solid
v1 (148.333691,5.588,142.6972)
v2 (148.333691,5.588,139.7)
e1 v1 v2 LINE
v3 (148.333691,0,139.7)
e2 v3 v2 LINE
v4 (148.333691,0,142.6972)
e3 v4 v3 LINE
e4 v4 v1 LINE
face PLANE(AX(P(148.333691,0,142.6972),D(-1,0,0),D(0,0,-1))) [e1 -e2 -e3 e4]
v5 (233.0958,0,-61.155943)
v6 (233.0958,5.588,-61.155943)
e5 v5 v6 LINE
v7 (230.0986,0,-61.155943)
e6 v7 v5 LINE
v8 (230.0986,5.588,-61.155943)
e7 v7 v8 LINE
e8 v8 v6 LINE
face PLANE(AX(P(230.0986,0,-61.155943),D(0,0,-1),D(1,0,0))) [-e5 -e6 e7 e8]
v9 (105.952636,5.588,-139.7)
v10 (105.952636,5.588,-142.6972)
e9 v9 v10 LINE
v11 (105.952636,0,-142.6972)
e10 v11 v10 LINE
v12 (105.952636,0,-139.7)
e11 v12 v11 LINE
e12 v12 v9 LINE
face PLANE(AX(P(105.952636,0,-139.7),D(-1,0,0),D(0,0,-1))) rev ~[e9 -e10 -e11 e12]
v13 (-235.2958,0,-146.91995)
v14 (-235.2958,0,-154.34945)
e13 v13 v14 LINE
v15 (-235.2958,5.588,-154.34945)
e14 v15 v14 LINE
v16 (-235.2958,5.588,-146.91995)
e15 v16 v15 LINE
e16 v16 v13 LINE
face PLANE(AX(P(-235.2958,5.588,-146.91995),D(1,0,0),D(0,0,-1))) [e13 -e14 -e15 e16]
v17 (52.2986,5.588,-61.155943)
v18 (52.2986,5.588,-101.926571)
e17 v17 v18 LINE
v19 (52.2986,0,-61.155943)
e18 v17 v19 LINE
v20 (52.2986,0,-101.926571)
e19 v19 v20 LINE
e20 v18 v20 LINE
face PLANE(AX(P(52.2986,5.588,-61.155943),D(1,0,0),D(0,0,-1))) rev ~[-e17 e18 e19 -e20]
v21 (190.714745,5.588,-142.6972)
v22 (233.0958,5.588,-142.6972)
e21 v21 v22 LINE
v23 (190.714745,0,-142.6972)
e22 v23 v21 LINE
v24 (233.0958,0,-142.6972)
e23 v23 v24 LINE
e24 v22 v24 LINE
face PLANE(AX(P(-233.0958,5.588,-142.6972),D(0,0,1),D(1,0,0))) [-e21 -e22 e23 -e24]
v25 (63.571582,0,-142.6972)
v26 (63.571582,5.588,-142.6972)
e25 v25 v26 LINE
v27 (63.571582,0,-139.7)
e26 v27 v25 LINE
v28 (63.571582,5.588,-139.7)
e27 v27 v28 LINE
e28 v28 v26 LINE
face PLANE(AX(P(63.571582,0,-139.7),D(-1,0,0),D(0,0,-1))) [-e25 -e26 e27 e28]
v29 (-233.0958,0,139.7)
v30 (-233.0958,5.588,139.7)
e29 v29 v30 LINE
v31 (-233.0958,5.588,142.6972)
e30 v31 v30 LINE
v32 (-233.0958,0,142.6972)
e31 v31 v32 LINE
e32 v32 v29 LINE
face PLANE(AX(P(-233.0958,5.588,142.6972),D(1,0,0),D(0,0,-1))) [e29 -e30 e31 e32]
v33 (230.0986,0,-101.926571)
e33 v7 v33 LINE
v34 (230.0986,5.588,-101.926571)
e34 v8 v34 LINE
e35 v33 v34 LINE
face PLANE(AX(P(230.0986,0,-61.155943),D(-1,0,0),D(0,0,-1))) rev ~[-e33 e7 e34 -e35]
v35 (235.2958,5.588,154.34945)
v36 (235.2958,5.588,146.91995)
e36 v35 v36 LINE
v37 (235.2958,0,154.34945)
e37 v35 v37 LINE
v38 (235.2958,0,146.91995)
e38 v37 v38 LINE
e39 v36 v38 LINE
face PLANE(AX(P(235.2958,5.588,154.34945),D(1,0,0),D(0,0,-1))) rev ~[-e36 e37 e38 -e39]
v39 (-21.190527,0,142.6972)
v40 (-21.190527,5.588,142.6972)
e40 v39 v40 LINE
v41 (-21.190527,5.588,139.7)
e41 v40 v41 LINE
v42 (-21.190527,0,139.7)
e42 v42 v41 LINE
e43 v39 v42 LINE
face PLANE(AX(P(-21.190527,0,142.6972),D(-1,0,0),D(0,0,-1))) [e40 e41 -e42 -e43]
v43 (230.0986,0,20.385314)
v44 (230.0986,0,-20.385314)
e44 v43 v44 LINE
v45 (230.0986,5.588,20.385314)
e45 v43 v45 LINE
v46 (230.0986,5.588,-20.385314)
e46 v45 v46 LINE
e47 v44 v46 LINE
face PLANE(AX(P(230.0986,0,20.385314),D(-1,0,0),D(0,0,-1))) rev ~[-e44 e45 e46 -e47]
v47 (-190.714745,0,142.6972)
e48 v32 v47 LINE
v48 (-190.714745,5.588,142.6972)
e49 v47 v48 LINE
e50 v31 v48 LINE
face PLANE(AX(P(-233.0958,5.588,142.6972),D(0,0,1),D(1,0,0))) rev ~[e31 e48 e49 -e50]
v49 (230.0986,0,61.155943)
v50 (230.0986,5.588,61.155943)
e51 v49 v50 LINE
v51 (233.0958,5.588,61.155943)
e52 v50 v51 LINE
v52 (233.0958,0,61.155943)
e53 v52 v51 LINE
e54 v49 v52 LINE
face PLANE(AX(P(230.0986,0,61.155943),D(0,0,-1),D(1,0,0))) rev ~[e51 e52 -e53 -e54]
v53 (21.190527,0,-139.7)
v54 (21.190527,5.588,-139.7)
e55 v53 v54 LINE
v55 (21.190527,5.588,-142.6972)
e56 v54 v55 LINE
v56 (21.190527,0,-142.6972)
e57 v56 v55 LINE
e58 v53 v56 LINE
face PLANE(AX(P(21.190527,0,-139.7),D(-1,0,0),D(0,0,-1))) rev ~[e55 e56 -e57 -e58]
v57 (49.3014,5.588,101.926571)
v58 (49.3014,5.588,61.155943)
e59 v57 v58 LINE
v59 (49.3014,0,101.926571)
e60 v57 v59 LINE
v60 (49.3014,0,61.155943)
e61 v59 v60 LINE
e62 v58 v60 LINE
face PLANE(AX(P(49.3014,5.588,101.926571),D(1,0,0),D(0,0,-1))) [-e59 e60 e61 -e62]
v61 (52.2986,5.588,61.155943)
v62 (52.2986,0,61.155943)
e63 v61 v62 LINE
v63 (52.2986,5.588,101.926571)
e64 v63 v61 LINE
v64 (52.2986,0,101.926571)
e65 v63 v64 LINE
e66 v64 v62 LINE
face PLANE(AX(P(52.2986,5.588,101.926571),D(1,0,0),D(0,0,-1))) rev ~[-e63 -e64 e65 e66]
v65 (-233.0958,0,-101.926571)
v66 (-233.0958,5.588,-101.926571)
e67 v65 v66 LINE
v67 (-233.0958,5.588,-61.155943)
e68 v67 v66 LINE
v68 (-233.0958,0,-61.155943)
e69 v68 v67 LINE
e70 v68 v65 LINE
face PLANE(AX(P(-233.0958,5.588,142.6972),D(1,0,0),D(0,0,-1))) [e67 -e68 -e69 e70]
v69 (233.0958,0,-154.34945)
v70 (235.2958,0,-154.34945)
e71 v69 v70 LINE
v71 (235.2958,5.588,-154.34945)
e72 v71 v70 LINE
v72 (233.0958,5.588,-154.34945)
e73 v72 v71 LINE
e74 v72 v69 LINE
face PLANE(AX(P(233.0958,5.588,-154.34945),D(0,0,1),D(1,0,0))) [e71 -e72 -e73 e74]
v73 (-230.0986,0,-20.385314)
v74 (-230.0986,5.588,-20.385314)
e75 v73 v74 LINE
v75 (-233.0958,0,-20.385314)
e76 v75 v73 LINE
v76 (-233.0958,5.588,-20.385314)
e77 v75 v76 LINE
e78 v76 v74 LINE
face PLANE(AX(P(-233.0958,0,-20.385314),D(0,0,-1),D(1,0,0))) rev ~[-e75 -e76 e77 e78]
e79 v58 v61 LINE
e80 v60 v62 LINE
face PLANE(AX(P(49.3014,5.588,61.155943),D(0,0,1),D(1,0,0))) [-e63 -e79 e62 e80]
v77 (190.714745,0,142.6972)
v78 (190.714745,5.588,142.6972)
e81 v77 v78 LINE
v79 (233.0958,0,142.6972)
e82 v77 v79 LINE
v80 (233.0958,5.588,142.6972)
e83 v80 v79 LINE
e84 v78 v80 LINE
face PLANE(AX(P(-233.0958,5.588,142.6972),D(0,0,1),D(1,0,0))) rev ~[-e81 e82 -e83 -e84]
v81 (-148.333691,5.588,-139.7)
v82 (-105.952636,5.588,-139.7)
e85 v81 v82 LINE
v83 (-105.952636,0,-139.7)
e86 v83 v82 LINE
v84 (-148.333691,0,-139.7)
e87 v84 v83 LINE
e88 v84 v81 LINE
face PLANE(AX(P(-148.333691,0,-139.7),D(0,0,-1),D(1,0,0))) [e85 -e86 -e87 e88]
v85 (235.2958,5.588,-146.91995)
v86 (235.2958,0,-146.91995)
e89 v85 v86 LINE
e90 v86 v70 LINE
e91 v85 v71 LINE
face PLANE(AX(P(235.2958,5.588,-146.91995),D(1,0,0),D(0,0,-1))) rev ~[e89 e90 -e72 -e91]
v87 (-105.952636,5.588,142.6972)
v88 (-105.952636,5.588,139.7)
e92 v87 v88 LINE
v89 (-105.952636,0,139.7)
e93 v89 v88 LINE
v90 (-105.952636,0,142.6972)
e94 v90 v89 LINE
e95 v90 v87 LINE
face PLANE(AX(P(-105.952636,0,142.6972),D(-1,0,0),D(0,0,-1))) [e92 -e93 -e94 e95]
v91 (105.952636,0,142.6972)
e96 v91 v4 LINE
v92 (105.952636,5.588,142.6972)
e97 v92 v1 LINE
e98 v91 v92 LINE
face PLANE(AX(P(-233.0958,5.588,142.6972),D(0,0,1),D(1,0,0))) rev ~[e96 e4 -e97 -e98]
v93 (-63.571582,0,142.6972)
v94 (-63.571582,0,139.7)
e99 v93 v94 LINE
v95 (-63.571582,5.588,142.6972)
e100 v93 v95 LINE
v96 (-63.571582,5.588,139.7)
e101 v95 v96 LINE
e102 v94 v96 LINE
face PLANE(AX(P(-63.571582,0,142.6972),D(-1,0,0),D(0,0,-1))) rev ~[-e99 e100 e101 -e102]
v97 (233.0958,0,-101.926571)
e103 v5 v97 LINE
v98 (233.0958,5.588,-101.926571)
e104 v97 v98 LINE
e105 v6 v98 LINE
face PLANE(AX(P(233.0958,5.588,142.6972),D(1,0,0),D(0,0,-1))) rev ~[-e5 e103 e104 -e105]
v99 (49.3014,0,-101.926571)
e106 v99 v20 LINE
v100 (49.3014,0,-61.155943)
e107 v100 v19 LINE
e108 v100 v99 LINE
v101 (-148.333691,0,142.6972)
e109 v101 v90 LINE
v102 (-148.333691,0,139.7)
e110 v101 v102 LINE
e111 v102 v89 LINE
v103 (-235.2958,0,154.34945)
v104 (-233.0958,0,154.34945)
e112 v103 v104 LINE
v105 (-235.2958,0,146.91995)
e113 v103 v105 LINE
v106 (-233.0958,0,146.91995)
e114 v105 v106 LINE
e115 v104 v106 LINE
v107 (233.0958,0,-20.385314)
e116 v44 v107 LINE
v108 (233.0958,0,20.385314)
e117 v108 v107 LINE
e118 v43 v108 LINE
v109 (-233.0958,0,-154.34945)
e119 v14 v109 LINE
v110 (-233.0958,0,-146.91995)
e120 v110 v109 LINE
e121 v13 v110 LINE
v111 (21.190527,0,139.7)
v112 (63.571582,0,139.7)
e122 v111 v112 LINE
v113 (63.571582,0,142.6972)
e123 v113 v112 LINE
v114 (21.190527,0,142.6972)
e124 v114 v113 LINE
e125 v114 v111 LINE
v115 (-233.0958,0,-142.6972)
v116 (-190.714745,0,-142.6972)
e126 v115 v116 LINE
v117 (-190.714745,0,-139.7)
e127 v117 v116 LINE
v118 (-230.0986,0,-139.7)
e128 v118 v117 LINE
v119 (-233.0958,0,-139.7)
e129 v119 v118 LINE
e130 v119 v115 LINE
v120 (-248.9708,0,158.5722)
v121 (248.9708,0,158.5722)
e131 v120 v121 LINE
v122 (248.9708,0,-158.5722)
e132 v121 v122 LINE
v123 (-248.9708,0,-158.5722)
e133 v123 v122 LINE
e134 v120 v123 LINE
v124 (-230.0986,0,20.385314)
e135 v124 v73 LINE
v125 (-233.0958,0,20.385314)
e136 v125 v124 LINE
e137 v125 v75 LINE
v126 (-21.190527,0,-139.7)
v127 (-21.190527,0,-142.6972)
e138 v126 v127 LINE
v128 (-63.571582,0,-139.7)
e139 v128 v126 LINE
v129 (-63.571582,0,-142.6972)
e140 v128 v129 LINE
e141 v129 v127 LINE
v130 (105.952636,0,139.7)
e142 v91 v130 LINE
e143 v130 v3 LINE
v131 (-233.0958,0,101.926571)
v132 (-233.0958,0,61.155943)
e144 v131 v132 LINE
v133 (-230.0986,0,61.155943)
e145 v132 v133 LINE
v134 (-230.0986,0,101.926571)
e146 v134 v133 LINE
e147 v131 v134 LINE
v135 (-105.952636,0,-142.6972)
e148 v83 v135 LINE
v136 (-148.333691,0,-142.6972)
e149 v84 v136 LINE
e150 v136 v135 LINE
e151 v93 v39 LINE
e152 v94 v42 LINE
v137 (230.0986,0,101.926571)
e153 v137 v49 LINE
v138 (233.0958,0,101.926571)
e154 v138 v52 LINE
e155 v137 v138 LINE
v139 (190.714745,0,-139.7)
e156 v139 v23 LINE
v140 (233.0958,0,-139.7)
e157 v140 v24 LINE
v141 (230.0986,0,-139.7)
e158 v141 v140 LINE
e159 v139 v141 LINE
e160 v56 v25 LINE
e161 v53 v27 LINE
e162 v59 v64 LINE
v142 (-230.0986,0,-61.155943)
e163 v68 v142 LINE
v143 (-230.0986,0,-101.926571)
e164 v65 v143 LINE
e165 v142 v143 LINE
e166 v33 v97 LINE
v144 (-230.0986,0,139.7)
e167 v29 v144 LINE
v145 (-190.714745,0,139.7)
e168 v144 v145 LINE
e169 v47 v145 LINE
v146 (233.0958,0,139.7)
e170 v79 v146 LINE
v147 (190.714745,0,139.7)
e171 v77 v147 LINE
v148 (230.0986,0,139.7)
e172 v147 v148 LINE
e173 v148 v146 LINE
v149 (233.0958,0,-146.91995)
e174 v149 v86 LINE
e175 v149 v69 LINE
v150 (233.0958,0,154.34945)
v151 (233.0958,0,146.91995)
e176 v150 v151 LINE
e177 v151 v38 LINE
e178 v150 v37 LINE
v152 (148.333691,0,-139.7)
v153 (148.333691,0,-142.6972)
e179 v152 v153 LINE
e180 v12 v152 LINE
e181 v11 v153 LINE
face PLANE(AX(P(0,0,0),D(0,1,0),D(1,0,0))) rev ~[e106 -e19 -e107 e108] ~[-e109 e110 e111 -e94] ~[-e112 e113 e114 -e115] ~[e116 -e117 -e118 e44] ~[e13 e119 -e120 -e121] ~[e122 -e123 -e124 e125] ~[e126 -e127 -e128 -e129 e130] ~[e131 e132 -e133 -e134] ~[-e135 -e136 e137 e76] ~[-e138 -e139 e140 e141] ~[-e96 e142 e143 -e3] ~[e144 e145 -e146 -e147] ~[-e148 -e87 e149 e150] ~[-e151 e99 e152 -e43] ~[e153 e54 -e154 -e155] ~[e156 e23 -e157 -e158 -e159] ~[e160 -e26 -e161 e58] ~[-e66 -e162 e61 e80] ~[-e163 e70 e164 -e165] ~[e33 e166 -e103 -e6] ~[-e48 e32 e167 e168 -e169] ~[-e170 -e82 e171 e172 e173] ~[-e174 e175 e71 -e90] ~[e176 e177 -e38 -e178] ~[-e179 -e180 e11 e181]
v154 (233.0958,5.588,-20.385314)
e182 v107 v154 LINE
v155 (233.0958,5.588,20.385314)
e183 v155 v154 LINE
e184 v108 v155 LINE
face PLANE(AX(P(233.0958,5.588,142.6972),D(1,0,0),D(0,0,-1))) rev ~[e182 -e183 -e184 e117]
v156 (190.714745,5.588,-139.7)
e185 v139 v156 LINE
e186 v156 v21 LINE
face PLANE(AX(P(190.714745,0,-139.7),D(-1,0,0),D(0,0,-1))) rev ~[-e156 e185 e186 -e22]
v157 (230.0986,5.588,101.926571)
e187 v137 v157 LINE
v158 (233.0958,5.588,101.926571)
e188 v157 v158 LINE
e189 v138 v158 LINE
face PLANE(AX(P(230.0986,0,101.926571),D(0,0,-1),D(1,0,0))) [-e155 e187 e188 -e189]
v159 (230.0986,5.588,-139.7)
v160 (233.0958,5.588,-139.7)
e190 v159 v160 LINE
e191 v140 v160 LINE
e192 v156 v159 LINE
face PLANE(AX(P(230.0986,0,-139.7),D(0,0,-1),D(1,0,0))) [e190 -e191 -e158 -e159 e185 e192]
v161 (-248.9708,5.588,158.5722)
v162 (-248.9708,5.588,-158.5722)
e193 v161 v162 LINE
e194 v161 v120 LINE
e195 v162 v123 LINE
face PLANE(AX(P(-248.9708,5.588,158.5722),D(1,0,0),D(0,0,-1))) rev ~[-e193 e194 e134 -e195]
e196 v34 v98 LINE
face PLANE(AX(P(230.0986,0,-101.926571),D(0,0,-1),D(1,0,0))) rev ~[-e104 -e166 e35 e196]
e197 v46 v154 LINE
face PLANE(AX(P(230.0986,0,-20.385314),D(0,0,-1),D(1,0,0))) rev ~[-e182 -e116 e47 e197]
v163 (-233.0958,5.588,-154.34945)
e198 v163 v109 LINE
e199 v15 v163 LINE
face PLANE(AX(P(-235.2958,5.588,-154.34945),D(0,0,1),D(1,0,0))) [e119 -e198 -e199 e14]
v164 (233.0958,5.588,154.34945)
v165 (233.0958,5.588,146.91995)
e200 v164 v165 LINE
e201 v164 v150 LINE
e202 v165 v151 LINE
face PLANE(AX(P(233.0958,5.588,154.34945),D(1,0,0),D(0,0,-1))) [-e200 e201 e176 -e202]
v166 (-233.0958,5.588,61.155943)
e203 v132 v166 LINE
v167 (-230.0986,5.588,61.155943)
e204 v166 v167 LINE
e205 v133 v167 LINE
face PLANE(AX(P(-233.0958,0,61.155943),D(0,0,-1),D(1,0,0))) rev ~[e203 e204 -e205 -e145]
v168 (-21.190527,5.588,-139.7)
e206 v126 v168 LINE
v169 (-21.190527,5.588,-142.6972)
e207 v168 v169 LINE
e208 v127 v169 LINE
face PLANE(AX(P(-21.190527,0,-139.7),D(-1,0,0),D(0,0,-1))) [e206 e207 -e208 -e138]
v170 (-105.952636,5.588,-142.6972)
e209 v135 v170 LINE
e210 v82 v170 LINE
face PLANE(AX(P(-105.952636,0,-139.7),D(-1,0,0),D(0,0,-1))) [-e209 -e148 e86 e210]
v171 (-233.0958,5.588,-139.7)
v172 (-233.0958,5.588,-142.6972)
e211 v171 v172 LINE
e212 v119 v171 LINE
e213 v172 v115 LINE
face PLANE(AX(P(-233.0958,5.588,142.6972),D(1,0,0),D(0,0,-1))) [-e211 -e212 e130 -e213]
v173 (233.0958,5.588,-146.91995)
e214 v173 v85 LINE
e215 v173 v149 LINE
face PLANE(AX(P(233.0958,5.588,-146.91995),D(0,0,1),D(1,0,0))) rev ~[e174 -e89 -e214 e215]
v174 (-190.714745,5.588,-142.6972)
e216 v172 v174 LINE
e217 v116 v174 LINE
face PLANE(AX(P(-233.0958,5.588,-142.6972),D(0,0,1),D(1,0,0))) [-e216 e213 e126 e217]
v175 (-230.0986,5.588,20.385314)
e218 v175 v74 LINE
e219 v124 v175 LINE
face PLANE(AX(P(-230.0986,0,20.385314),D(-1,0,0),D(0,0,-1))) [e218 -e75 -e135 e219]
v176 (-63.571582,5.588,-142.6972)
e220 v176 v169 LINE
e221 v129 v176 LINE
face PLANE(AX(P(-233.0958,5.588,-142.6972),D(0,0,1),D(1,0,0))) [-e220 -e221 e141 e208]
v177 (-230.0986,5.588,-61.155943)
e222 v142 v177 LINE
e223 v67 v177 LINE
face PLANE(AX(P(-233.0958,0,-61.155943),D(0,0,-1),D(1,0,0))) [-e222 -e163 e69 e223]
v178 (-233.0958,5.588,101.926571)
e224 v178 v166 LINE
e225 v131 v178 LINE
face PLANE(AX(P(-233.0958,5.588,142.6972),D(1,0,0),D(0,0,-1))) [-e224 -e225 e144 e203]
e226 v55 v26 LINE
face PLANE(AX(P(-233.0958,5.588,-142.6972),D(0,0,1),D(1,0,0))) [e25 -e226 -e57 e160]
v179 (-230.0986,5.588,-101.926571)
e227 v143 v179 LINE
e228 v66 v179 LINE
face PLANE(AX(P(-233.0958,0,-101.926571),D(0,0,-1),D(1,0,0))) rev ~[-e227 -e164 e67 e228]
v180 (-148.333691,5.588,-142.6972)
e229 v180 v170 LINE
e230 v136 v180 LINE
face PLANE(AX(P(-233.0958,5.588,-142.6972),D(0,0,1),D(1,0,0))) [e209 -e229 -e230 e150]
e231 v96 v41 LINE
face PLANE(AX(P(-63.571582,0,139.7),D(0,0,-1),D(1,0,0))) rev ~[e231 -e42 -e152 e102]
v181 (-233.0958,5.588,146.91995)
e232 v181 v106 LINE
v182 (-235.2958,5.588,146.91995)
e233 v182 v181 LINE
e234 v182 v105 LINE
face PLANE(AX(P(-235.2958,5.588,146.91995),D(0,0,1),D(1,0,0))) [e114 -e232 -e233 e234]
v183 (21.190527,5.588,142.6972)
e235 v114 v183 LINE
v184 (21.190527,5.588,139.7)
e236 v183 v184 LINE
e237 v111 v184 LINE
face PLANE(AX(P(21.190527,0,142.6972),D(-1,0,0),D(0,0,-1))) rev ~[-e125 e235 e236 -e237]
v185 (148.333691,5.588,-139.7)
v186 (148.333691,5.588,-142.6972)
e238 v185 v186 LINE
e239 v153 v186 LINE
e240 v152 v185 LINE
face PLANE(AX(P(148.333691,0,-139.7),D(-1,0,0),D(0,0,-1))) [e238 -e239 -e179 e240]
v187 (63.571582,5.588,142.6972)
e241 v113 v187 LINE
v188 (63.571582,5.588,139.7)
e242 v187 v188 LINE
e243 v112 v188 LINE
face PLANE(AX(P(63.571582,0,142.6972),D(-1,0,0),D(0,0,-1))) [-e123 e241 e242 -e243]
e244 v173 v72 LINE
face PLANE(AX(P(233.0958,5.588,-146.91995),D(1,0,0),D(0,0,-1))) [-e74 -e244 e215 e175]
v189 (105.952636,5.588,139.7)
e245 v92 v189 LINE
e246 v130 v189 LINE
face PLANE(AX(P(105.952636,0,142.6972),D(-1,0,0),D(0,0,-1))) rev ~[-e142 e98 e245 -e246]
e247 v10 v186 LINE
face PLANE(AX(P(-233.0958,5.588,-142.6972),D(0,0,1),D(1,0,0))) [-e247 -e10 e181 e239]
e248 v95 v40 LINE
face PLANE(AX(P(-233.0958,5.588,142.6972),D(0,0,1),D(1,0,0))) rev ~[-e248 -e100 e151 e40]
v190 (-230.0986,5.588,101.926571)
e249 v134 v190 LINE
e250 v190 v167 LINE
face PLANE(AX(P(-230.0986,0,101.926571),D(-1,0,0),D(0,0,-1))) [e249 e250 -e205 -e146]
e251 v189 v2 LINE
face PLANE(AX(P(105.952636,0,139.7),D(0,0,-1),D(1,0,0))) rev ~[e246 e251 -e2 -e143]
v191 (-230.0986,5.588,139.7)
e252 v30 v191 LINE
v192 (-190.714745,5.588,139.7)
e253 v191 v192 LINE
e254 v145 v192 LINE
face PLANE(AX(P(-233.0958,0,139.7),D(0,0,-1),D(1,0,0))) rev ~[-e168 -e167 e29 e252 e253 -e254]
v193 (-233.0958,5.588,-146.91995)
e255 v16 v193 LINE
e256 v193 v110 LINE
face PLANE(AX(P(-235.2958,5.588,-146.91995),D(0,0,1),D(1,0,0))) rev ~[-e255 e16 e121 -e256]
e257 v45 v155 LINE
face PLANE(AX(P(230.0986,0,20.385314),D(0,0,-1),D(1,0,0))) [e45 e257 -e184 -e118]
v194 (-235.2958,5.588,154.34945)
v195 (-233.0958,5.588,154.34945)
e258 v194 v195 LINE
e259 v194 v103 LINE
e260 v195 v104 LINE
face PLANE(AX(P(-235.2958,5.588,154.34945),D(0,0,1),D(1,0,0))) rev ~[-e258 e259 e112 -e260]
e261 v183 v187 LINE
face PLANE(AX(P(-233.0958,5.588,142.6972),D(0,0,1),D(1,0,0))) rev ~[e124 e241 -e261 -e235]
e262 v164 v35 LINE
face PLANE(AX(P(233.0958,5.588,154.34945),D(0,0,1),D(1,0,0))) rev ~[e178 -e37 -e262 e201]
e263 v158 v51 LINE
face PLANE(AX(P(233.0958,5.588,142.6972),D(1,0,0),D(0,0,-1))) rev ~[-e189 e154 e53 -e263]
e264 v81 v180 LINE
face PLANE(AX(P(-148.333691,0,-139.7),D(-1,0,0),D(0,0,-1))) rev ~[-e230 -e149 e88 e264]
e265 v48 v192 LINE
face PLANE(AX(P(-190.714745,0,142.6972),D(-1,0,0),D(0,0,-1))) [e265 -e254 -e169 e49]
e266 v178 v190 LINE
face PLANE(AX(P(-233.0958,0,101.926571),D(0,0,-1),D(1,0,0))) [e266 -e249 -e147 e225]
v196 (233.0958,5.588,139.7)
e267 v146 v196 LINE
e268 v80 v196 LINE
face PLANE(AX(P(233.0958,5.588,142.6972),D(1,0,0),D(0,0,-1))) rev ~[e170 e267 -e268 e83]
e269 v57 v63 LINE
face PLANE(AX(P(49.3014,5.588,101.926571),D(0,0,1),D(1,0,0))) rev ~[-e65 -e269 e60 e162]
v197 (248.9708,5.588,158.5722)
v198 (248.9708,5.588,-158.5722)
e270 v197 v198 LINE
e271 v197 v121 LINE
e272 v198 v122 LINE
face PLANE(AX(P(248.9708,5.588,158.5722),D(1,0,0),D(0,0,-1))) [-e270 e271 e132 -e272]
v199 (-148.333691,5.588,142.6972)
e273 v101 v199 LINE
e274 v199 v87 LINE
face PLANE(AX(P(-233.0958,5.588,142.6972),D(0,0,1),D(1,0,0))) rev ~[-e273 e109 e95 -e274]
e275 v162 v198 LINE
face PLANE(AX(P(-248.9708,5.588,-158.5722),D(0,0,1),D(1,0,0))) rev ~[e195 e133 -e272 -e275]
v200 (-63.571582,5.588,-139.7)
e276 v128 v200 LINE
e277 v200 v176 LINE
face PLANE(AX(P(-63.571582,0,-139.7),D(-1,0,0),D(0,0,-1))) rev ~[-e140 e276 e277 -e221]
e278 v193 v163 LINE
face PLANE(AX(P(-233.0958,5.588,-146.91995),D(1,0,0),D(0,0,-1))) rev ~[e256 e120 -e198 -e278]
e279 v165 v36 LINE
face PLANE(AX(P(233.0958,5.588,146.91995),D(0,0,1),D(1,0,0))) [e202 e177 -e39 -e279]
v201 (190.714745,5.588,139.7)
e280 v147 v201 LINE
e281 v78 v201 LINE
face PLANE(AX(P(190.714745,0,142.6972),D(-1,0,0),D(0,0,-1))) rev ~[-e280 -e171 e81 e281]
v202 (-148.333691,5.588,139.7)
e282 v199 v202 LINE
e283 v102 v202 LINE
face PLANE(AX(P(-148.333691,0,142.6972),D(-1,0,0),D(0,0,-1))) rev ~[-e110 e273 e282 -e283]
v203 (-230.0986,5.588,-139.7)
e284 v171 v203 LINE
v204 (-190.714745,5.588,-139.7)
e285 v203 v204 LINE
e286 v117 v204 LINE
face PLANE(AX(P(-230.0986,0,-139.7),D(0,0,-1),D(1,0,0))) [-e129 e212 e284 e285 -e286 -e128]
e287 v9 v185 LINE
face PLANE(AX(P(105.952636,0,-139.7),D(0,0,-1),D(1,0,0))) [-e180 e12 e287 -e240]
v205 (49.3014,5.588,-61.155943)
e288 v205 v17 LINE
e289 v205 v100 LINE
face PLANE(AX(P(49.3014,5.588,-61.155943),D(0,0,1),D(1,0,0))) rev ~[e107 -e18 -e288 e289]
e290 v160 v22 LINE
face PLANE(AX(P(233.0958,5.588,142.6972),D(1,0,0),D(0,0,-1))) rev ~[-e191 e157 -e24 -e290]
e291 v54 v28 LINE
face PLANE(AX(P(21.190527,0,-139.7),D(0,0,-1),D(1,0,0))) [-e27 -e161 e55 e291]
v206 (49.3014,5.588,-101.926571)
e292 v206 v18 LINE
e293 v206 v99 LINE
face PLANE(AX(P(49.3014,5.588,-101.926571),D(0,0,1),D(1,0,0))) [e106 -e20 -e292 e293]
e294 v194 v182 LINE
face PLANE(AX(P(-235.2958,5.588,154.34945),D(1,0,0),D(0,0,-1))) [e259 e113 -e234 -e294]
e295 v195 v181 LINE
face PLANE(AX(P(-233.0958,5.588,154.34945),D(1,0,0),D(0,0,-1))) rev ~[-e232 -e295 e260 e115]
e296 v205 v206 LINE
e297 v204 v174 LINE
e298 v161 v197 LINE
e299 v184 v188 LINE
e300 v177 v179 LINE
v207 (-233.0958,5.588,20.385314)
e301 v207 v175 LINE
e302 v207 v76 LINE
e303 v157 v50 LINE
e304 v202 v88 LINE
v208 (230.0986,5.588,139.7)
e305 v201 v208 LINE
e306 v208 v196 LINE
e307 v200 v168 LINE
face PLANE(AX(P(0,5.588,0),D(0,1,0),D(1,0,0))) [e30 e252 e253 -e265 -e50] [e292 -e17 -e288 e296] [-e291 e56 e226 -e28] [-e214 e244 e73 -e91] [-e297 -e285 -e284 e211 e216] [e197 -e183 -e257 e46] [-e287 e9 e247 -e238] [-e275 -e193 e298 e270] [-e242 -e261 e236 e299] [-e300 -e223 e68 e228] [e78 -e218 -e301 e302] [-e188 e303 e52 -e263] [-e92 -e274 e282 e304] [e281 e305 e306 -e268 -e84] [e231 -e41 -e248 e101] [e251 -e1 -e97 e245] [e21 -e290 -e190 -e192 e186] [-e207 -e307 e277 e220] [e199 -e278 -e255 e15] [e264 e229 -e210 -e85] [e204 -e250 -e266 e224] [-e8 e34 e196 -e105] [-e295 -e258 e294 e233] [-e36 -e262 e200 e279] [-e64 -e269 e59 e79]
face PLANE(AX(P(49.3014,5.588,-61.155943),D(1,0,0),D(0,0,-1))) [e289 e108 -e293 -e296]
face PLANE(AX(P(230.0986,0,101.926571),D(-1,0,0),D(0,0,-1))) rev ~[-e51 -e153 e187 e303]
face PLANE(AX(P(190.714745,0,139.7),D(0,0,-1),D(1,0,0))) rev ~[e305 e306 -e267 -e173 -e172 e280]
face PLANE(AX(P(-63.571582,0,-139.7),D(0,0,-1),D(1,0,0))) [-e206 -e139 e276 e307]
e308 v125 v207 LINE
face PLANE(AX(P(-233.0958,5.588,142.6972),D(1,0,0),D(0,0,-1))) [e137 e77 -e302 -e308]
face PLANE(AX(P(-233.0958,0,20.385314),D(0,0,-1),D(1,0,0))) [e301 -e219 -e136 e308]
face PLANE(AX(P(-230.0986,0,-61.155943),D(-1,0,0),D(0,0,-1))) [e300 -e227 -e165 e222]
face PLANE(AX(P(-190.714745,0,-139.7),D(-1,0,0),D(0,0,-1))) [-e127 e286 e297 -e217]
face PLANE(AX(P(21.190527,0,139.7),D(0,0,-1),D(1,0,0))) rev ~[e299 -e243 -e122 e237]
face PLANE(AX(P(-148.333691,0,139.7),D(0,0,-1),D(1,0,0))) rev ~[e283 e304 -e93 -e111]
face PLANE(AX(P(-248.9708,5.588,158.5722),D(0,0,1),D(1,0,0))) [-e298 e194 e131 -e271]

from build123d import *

# Parameters (mm, degrees)
SKETCH2_W           = 460.1972
SKETCH2_H           = 279.4
SKETCH2_W_2         = 42.381054546
SKETCH2_H_2         = 2.9972
SKETCH2_W_3         = 2.9972
SKETCH2_H_3         = 37.773428571
SKETCH2_H_4         = 40.770628571
BOSS_EXTRUDE1_DEPTH = 5.588
SKETCH3_W           = 2.9972
SKETCH3_H           = 40.770628572
CUT_EXTRUDE1_DEPTH  = 274.363071042
SKETCH4_W           = 497.9416
SKETCH4_H           = 317.1444
SKETCH4_W_2         = 2.2
SKETCH4_H_2         = 7.4295
SKETCH4_W_3         = 466.1916
SKETCH4_H_3         = 285.3944
BOSS_EXTRUDE2_DEPTH = 5.588


with BuildPart() as part:
    # Sketch2 → Boss-Extrude1 (new body)
    with BuildSketch(Plane(origin=(0, 0, 0), x_dir=(1, 0, 0), z_dir=(0, 1, 0))):
        Rectangle(SKETCH2_W, SKETCH2_H)
        with Locations((-169.524218182, 141.1986)):
            Rectangle(SKETCH2_W_2, SKETCH2_H_2)
        with Locations((-231.5972, 120.813285715)):
            Rectangle(SKETCH2_W_3, SKETCH2_H_3)
        with Locations((-231.5972, 40.770628572)):
            Rectangle(SKETCH2_W_3, SKETCH2_H_4)
        with Locations((-231.5972, -40.770628572)):
            Rectangle(SKETCH2_W_3, SKETCH2_H_4)
        with Locations((-84.762109091, 141.1986)):
            Rectangle(SKETCH2_W_2, SKETCH2_H_2)
        with Locations((0, 141.1986)):
            Rectangle(SKETCH2_W_2, SKETCH2_H_2)
        with Locations((84.762109091, 141.1986)):
            Rectangle(SKETCH2_W_2, SKETCH2_H_2)
        with Locations((169.524218182, 141.1986)):
            Rectangle(SKETCH2_W_2, SKETCH2_H_2)
        with Locations((169.524218182, -141.1986)):
            Rectangle(SKETCH2_W_2, SKETCH2_H_2)
        with Locations((84.762109091, -141.1986)):
            Rectangle(SKETCH2_W_2, SKETCH2_H_2)
        with Locations((0, -141.1986)):
            Rectangle(SKETCH2_W_2, SKETCH2_H_2)
        with Locations((-84.762109091, -141.1986)):
            Rectangle(SKETCH2_W_2, SKETCH2_H_2)
        with Locations((-169.524218182, -141.1986)):
            Rectangle(SKETCH2_W_2, SKETCH2_H_2)
        with Locations((-231.5972, -120.813285715)):
            Rectangle(SKETCH2_W_3, SKETCH2_H_3)
        with Locations((231.5972, -120.813285715)):
            Rectangle(SKETCH2_W_3, SKETCH2_H_3)
        with Locations((231.5972, -40.770628572)):
            Rectangle(SKETCH2_W_3, SKETCH2_H_4)
        with Locations((231.5972, 40.770628572)):
            Rectangle(SKETCH2_W_3, SKETCH2_H_4)
        with Locations((231.5972, 120.813285715)):
            Rectangle(SKETCH2_W_3, SKETCH2_H_3)
    extrude(amount=BOSS_EXTRUDE1_DEPTH)

    # Sketch3 → Cut-Extrude1 (cut, through all)
    with BuildSketch(Plane(origin=(0, 5.588, 0), x_dir=(1, 0, 0), z_dir=(0, 1, 0))):
        with Locations((50.8, -81.541257143)):
            Rectangle(SKETCH3_W, SKETCH3_H)
        with Locations((50.8, 81.541257143)):
            Rectangle(SKETCH3_W, SKETCH3_H)
    extrude(amount=-CUT_EXTRUDE1_DEPTH, mode=Mode.SUBTRACT)

    # Sketch4 → Boss-Extrude2 (add)
    with BuildSketch(Plane(origin=(0, 5.588, 0), x_dir=(1, 0, 0), z_dir=(0, 1, 0))):
        Rectangle(SKETCH4_W, SKETCH4_H)
        with Locations((-234.1958, 150.6347)):
            Rectangle(SKETCH4_W_2, SKETCH4_H_2, mode=Mode.SUBTRACT)
        Rectangle(SKETCH4_W_3, SKETCH4_H_3, mode=Mode.SUBTRACT)
        with Locations((234.1958, -150.6347)):
            Rectangle(SKETCH4_W_2, SKETCH4_H_2, mode=Mode.SUBTRACT)
        with Locations((-234.1958, -150.6347)):
            Rectangle(SKETCH4_W_2, SKETCH4_H_2, mode=Mode.SUBTRACT)
        with Locations((234.1958, 150.6347)):
            Rectangle(SKETCH4_W_2, SKETCH4_H_2, mode=Mode.SUBTRACT)
    extrude(amount=-BOSS_EXTRUDE2_DEPTH)


solid = part.part
